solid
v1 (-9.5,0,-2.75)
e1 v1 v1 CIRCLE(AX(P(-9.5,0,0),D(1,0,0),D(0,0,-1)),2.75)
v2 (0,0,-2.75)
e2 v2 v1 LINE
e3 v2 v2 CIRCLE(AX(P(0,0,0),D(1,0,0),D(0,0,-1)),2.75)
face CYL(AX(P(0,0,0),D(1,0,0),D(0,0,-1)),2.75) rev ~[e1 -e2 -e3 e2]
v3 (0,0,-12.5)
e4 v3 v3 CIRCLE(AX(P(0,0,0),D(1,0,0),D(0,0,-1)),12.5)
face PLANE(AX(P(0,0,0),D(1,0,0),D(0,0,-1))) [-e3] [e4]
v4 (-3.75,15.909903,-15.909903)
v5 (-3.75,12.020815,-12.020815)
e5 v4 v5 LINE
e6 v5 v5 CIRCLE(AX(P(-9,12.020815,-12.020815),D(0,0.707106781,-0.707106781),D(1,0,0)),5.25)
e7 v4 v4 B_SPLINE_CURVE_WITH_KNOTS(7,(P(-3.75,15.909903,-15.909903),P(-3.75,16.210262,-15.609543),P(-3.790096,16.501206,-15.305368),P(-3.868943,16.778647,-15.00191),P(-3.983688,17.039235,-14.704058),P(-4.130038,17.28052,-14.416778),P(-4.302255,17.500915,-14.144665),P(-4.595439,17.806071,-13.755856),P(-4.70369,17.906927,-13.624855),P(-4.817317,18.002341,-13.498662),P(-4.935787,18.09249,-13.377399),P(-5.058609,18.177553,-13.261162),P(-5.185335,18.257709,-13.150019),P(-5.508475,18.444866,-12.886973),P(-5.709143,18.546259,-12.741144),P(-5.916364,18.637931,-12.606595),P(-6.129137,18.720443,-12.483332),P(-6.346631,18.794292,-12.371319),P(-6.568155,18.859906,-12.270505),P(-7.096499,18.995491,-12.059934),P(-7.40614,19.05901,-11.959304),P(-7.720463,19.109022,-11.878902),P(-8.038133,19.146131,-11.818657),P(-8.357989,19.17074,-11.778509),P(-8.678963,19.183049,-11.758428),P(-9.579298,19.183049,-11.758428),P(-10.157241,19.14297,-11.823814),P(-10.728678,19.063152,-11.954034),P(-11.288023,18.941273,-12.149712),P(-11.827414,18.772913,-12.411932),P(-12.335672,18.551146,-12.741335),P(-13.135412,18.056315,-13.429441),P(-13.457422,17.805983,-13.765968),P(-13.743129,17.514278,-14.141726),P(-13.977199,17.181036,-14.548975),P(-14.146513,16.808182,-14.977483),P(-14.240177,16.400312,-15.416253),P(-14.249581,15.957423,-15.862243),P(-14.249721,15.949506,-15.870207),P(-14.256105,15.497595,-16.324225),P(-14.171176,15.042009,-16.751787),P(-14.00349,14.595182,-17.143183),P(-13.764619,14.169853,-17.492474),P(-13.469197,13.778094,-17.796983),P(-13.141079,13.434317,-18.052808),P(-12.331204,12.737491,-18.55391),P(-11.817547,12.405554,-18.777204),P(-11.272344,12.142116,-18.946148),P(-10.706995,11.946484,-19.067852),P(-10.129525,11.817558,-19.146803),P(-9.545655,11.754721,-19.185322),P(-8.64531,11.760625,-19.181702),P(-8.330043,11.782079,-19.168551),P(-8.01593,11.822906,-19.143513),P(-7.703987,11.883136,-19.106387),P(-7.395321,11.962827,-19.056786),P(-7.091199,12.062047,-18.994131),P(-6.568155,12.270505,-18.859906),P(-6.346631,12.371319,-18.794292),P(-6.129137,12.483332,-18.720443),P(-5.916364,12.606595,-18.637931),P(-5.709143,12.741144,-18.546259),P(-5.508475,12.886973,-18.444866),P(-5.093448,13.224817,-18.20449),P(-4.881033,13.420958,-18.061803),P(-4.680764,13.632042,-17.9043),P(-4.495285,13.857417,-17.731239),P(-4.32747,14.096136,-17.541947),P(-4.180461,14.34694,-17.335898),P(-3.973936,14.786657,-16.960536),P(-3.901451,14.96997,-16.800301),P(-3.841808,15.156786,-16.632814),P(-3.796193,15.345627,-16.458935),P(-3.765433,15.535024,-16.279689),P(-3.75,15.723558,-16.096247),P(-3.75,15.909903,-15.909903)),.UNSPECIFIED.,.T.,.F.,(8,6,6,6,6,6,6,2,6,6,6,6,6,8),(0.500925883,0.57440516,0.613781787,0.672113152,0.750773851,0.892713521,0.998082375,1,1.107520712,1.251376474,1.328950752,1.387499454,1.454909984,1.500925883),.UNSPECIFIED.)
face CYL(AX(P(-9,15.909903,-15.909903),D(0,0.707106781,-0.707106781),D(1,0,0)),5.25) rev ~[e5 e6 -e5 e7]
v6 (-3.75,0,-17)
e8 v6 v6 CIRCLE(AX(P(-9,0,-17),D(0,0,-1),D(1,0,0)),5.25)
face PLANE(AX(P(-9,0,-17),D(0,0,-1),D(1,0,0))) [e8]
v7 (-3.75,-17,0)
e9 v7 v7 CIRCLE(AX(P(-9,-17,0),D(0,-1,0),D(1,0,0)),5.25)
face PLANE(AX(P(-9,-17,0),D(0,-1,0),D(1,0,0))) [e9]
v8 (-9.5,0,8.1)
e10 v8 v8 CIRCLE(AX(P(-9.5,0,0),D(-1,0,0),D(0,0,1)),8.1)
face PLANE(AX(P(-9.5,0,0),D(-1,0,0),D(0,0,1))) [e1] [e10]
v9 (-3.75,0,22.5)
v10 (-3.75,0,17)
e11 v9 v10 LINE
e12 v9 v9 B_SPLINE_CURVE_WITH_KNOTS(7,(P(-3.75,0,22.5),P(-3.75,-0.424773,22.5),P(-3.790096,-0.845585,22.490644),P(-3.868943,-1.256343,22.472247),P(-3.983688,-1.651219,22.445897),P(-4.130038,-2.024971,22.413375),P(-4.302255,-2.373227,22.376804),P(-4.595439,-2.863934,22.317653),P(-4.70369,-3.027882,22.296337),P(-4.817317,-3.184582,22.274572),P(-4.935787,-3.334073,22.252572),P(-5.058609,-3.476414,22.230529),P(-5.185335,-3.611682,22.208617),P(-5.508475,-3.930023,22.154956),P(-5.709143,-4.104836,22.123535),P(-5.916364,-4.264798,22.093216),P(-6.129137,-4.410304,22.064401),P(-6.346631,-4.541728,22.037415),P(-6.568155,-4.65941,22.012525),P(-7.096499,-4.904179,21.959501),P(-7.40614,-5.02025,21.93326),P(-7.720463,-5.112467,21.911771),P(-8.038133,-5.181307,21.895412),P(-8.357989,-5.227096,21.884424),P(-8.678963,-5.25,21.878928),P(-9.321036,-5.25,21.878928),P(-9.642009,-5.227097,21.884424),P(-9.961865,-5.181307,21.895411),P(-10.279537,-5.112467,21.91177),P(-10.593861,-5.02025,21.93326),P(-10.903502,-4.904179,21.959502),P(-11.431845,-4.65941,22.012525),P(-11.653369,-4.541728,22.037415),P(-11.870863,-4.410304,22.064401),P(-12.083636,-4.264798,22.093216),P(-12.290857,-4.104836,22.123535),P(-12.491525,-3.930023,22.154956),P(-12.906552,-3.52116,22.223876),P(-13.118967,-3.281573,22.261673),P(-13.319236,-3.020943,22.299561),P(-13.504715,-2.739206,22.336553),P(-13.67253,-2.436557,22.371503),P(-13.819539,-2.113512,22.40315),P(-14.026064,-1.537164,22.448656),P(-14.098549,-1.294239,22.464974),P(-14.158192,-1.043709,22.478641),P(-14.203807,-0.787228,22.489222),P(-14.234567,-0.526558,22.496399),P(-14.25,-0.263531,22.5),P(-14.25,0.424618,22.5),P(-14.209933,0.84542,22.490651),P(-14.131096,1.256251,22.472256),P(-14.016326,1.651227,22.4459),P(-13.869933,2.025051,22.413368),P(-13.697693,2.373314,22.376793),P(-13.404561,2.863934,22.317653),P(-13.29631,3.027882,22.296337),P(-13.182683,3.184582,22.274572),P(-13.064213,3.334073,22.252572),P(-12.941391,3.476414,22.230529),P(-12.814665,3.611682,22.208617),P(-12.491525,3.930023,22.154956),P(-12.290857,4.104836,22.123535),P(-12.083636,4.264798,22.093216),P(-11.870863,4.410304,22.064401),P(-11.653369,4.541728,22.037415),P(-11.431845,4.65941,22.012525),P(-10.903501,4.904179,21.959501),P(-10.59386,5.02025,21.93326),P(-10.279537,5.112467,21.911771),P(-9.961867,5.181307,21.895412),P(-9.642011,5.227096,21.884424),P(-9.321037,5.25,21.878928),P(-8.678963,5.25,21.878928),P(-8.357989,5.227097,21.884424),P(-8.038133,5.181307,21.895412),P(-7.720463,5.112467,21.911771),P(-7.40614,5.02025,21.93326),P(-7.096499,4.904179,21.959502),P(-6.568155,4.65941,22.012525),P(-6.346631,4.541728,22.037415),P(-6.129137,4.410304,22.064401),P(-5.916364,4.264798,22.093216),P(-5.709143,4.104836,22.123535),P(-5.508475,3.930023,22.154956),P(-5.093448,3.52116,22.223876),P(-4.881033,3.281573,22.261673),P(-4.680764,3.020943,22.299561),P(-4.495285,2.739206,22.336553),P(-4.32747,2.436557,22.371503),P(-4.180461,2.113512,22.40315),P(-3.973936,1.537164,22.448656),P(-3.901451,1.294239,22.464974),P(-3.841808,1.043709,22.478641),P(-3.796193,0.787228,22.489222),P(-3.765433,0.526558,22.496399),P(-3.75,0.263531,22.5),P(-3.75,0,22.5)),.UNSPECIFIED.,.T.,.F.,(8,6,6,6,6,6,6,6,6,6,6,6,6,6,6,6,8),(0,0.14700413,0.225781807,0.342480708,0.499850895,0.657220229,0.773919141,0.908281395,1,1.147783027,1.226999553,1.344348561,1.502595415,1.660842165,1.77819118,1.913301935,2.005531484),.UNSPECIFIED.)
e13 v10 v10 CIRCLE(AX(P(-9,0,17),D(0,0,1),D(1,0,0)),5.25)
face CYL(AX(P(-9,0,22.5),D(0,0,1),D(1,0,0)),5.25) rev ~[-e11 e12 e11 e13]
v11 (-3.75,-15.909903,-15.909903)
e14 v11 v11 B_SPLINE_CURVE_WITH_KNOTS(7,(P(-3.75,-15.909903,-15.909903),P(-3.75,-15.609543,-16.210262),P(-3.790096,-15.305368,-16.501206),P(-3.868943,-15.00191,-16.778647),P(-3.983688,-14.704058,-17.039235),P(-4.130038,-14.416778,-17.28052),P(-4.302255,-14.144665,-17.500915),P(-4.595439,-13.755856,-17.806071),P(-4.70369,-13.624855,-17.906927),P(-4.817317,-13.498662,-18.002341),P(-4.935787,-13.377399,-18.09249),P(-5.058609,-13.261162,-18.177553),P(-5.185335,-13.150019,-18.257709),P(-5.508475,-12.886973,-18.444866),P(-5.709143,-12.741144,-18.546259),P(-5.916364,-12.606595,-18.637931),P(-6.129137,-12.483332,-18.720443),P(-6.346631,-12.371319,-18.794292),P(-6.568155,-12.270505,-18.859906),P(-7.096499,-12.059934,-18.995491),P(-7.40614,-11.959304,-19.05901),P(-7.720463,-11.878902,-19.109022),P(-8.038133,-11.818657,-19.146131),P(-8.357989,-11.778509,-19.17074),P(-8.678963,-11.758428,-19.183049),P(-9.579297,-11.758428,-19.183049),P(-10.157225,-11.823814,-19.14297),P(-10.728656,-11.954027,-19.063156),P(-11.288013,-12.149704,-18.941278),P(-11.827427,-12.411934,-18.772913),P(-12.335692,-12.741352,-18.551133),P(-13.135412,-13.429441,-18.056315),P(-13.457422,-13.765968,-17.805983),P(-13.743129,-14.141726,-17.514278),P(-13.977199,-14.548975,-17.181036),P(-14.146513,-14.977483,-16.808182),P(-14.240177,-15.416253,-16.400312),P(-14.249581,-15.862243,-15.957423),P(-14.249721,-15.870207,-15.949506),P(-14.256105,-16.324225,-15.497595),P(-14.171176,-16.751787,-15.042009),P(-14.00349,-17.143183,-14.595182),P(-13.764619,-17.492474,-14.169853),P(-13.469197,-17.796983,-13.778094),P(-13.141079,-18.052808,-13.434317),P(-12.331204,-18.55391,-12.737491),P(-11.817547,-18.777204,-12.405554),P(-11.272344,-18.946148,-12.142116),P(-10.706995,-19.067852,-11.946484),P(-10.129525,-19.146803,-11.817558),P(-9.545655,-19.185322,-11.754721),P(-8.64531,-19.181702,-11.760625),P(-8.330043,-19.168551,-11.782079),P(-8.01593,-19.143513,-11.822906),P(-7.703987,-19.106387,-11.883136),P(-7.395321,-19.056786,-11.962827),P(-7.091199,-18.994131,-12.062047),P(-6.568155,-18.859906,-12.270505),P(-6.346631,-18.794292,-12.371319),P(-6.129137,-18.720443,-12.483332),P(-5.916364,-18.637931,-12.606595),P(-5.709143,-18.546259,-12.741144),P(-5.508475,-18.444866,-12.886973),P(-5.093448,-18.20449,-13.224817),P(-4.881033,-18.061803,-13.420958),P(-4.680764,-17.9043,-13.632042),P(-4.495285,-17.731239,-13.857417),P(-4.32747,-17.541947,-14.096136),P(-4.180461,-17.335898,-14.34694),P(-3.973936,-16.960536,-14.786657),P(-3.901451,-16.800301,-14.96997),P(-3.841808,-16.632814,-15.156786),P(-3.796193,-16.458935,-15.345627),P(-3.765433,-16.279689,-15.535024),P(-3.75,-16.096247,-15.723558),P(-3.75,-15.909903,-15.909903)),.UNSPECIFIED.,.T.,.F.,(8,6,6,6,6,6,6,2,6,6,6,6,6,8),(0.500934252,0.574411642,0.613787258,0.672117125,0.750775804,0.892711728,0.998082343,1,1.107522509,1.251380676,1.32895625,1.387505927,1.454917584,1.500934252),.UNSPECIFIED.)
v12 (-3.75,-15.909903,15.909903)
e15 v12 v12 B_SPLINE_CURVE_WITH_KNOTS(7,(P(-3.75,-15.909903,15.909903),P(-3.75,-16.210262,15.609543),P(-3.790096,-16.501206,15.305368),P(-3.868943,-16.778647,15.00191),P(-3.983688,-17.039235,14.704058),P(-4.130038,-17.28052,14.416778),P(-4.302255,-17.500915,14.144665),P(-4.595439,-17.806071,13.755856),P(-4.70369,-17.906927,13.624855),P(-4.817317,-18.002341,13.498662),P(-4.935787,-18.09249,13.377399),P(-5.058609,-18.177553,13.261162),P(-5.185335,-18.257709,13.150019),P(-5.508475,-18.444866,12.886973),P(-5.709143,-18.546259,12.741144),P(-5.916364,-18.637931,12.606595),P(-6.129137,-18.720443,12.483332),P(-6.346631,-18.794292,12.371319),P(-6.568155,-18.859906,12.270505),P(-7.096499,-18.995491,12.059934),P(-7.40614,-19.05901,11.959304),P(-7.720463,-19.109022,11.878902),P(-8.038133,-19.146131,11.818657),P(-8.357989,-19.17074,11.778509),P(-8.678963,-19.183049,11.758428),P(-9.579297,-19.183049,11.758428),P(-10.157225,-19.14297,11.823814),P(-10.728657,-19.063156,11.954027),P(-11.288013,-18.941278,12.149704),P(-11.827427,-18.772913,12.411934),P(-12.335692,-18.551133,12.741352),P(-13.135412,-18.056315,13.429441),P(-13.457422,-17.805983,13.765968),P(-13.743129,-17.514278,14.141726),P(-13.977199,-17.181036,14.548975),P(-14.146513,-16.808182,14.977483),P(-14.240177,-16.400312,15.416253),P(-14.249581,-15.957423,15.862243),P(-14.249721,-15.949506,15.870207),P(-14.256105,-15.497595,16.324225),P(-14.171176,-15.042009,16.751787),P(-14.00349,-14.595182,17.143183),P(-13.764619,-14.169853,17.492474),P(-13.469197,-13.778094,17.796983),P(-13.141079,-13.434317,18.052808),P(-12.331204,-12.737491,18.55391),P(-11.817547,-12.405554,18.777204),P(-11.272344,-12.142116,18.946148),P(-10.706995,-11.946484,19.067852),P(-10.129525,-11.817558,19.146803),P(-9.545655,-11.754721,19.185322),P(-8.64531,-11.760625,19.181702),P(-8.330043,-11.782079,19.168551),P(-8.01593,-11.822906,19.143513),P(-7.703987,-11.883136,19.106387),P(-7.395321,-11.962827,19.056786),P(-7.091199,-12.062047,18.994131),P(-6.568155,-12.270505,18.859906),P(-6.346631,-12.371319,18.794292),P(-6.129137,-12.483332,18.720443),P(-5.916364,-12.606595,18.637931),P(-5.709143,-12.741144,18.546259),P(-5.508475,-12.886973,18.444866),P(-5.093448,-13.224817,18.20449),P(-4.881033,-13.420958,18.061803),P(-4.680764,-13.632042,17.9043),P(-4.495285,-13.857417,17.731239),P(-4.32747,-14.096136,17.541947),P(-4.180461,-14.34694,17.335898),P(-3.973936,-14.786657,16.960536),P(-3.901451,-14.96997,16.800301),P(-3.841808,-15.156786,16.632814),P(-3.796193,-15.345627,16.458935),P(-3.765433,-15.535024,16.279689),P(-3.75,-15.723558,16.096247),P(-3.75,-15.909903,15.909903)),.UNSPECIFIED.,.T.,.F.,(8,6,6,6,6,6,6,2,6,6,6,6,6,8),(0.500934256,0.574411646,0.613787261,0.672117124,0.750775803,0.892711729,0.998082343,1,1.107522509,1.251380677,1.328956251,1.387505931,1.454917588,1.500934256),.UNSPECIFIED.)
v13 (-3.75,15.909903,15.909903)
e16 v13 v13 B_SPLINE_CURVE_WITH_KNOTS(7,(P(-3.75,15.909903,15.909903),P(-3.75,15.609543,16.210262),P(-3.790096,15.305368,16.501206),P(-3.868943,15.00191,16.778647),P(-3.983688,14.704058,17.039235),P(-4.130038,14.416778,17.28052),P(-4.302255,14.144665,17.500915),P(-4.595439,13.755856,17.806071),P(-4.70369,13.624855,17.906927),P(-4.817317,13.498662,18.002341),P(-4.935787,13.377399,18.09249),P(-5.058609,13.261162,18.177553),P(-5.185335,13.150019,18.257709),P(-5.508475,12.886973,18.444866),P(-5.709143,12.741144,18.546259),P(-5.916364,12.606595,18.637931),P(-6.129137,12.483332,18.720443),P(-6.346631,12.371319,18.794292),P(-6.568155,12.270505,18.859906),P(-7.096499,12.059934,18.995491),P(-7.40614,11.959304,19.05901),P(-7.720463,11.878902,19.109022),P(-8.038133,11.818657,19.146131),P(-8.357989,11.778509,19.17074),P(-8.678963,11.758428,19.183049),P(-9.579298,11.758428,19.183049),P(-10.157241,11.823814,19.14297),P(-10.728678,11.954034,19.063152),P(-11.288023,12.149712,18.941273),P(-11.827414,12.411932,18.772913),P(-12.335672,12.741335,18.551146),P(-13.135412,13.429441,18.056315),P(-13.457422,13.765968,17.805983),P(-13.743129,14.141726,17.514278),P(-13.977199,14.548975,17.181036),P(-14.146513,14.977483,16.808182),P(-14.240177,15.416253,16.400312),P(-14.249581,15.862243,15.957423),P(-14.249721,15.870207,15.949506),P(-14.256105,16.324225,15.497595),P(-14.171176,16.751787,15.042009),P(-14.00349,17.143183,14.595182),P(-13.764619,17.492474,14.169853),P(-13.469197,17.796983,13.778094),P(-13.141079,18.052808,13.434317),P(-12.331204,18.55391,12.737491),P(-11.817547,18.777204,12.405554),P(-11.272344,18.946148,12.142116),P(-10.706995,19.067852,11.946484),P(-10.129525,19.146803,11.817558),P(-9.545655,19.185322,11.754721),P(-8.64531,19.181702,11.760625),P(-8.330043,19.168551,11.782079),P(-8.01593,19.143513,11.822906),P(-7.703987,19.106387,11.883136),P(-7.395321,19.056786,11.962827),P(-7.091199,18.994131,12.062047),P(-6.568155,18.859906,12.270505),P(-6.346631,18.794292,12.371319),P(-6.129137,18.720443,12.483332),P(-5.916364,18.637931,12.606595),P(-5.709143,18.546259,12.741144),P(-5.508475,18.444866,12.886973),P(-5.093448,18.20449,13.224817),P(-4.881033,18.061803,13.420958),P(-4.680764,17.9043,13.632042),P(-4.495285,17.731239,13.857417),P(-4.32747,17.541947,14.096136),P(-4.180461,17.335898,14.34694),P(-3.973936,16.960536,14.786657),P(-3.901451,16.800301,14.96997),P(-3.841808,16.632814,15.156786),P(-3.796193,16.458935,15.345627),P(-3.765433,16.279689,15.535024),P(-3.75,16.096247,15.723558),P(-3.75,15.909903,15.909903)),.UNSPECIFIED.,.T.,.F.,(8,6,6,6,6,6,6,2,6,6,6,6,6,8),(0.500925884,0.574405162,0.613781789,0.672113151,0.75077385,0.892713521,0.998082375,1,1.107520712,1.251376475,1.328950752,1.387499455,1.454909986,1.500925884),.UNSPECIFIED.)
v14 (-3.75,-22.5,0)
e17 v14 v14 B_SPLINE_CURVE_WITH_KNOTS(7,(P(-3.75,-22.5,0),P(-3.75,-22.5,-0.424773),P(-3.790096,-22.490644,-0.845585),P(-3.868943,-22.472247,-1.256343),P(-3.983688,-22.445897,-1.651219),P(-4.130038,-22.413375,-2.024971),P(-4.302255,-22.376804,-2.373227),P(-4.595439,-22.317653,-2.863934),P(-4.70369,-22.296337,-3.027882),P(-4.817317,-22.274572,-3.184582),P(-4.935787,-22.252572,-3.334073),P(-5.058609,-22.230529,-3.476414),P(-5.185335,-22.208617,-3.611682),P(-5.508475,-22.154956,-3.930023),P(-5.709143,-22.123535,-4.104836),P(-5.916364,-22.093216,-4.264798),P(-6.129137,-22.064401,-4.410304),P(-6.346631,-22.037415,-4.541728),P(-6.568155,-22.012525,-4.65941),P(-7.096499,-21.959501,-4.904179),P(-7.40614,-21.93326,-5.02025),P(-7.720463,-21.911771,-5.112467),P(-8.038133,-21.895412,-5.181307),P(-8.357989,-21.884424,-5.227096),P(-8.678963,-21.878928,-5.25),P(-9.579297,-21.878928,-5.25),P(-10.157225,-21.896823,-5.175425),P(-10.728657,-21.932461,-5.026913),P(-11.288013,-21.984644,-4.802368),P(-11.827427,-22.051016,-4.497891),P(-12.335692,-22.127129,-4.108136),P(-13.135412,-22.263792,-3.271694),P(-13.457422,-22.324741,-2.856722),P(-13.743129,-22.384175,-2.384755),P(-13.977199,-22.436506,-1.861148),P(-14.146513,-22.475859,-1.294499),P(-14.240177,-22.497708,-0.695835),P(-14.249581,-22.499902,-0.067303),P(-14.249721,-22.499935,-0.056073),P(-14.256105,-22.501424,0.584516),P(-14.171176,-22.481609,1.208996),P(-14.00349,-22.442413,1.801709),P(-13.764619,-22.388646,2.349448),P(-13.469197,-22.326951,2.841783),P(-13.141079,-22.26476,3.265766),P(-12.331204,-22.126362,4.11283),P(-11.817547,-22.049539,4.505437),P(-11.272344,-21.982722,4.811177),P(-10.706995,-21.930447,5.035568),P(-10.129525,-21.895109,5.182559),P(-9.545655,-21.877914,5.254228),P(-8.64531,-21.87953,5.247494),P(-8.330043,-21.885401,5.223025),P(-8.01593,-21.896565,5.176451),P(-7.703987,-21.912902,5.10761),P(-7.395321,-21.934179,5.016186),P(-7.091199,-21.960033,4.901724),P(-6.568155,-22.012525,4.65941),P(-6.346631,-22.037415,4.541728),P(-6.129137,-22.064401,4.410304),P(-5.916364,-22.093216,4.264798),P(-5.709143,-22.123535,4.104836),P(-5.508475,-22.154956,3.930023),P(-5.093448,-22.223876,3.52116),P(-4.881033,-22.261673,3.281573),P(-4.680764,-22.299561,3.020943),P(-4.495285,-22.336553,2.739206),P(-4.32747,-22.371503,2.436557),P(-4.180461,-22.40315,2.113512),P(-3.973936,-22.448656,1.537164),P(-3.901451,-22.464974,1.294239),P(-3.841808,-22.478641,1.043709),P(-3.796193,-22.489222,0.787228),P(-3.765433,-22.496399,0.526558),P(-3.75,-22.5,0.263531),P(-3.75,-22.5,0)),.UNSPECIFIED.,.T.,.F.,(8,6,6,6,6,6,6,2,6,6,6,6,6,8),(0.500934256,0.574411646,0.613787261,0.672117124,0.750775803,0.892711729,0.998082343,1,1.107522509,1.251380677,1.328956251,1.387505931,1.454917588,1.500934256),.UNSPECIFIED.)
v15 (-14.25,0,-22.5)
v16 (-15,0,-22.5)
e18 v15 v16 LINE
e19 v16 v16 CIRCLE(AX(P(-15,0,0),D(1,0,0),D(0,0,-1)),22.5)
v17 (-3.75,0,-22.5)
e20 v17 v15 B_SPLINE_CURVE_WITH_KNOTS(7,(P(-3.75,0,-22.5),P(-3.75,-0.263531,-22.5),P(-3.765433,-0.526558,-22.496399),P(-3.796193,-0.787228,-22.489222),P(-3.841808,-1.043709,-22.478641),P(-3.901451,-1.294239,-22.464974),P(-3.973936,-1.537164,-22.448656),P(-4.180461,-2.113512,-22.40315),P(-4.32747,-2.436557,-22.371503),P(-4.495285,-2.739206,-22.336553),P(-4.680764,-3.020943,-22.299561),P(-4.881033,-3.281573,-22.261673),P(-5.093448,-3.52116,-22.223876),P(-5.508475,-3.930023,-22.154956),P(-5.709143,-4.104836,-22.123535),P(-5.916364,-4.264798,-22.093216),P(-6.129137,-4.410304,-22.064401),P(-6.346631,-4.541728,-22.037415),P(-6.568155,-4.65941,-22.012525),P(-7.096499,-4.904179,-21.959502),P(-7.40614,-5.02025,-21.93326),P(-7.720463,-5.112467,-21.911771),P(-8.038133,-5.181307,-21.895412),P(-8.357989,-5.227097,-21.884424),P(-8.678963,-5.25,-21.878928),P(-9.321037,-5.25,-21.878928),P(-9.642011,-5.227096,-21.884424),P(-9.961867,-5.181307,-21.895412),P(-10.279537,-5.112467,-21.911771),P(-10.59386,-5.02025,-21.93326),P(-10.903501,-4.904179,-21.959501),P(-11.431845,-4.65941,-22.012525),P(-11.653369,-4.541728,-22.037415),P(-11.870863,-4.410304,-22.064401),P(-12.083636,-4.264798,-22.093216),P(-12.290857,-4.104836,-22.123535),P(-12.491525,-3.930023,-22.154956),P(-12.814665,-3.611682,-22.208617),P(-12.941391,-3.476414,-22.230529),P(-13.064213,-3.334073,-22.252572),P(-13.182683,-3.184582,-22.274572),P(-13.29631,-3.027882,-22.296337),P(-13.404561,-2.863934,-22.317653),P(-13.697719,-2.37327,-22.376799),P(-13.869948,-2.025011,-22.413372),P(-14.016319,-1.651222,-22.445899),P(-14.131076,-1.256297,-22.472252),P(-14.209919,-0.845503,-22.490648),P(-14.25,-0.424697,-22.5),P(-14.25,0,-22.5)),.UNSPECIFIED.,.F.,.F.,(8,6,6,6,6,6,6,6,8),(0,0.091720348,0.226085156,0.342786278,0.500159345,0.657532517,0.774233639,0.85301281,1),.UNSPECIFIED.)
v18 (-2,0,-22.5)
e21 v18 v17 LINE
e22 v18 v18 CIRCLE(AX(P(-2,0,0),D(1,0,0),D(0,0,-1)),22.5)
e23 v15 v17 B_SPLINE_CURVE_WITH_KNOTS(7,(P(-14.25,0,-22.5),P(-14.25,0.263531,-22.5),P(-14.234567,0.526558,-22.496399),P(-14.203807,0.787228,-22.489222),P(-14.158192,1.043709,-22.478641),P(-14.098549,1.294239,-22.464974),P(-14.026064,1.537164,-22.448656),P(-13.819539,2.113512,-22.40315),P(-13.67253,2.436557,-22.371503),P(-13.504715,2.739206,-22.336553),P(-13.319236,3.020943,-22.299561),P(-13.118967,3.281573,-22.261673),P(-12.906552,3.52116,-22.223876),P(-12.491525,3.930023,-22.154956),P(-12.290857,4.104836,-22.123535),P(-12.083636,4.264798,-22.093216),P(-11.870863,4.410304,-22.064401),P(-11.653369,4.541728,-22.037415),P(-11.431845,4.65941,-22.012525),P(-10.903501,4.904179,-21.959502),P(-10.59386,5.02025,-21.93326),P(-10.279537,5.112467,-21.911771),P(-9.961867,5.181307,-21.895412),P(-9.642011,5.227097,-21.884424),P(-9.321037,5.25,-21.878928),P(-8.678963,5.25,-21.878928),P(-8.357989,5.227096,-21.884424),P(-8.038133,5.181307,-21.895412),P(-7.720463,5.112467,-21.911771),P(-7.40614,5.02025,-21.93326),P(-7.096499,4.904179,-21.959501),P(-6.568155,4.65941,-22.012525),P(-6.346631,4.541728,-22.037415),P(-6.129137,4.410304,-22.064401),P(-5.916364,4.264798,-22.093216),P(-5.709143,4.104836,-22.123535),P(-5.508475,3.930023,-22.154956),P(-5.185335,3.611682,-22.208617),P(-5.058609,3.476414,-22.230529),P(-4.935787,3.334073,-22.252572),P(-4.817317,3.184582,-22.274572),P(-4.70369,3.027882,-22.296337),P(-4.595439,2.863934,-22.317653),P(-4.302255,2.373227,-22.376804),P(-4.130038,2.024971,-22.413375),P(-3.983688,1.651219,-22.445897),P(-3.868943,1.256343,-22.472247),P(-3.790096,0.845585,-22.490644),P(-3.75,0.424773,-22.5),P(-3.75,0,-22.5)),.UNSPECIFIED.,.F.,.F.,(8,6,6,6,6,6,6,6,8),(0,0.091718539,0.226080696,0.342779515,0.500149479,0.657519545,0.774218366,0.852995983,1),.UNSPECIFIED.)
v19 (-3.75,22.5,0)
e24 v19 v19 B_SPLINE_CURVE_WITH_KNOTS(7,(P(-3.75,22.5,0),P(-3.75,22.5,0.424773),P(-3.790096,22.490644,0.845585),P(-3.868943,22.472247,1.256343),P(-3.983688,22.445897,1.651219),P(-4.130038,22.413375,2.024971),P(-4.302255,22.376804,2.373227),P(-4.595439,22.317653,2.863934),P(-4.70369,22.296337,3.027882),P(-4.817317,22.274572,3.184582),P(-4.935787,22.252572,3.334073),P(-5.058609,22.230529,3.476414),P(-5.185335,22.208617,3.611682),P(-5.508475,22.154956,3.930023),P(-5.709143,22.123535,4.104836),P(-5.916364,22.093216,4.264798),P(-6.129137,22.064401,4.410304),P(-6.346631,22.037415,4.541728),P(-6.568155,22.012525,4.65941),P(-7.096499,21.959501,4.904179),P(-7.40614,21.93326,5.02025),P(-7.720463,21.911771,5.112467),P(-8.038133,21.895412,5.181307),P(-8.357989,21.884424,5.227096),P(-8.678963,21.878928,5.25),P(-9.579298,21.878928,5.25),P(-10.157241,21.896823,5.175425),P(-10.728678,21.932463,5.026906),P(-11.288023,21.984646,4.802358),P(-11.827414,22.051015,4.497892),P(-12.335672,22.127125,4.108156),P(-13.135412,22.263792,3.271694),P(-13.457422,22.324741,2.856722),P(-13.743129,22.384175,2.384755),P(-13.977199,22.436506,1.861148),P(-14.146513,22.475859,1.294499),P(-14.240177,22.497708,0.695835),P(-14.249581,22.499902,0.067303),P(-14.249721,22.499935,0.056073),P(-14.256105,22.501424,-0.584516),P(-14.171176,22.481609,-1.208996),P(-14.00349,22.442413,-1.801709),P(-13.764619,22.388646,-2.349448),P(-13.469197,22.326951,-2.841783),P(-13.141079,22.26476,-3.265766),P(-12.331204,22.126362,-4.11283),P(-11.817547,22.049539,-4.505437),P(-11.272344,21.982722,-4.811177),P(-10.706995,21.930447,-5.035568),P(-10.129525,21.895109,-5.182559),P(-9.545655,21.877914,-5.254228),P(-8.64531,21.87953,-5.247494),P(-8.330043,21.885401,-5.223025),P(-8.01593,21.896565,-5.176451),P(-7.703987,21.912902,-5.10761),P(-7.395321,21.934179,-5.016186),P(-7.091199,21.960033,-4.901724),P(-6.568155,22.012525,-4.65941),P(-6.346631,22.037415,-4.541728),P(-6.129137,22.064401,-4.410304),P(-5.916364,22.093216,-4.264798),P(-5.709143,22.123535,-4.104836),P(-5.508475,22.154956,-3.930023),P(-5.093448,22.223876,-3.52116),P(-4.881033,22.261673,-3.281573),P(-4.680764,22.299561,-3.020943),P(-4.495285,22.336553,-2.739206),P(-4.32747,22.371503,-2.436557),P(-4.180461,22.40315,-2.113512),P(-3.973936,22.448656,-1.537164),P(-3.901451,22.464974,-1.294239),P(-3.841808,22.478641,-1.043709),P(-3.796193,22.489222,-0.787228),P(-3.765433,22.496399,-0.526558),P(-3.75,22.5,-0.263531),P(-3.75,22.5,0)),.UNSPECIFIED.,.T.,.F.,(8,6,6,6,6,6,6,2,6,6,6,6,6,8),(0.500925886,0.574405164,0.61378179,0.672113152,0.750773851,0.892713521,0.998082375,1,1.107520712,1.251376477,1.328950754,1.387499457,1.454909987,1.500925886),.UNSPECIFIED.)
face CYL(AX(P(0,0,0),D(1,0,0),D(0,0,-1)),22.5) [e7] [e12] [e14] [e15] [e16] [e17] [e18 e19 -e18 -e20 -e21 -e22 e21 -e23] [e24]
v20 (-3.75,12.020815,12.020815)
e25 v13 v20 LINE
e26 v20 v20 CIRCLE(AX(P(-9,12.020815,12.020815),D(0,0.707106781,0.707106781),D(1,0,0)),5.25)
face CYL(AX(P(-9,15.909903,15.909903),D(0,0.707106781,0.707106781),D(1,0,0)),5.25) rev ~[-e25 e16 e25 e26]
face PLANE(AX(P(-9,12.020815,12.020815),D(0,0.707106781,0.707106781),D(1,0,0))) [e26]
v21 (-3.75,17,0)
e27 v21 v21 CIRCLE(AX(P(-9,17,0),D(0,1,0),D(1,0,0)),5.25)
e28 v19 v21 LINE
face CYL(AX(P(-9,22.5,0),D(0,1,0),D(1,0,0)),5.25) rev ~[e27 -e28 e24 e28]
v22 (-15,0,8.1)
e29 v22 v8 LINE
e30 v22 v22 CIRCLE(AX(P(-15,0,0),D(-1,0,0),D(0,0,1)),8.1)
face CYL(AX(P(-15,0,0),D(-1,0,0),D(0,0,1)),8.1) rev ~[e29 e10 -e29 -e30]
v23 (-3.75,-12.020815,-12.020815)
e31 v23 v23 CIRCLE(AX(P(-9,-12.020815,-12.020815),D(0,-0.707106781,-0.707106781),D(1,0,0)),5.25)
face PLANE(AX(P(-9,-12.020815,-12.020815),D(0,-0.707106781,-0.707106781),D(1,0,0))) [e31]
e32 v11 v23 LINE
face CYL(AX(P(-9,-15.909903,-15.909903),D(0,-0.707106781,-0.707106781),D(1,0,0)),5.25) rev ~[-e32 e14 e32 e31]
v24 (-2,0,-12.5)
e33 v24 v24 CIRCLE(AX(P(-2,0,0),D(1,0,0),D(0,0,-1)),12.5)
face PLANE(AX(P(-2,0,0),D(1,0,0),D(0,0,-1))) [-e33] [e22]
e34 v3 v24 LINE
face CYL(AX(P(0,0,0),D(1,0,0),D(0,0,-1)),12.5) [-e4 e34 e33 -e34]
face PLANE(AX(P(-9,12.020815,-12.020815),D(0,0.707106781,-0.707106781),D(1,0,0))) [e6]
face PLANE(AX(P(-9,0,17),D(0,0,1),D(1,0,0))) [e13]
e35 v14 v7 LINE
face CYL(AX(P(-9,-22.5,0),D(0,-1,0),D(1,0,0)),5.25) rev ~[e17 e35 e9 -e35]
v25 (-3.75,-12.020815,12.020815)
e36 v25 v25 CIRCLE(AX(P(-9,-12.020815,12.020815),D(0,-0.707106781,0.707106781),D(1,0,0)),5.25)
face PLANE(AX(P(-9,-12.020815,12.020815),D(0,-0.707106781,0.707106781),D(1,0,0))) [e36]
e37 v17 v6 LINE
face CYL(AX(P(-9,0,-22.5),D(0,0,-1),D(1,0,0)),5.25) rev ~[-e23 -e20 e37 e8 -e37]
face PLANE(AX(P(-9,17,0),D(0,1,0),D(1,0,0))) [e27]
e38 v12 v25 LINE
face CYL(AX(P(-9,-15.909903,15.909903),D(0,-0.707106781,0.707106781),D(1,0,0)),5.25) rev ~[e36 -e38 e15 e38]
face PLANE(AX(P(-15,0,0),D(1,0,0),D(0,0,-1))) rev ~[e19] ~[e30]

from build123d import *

# Parameters (mm, degrees)
SKETCH1_R               = 22.5
BOSS_EXTRUDE1_DEPTH     = 15
SKETCH2_R               = 2.75
CUT_EXTRUDE1_DEPTH      = 36.178118199
SKETCH5_R               = 8.1
CUT_EXTRUDE2_DEPTH      = 5.5
SKETCH6_R               = 5.25
CUT_EXTRUDE3_DEPTH      = 5.5
CIRPATTERN1_COUNT       = 8
SKETCH29_R              = 22.5
SKETCH29_R_2            = 12.5
CUT_EXTRUDE_THIN1_DEPTH = 2


with BuildPart() as part:
    # Sketch1 → Boss-Extrude1 (new body)
    with BuildSketch(Plane(origin=(0, 0, 0), x_dir=(0, 0, -1), z_dir=(1, 0, 0))):
        Circle(SKETCH1_R)
    extrude(amount=-BOSS_EXTRUDE1_DEPTH)

    # Sketch2 → Cut-Extrude1 (cut, through all)
    with BuildSketch(Plane(origin=(0, 0, 0), x_dir=(0, 0, -1), z_dir=(1, 0, 0))):
        Circle(SKETCH2_R)
    extrude(amount=-CUT_EXTRUDE1_DEPTH, mode=Mode.SUBTRACT)

    # Sketch5 → Cut-Extrude2 (cut)
    with BuildSketch(Plane.ZY.offset(15)):
        Circle(SKETCH5_R)
    extrude(amount=-CUT_EXTRUDE2_DEPTH, mode=Mode.SUBTRACT)

    # Sketch6 → Cut-Extrude3 (cut)
    with BuildSketch(Plane.XY.offset(22.5)):
        with Locations((-9, 0)):
            Circle(SKETCH6_R)
    cut_extrude3 = extrude(amount=-CUT_EXTRUDE3_DEPTH, mode=Mode.SUBTRACT)

    # CirPattern1: Cut-Extrude3 ×8 about axis
    cirpattern1_axis = Axis((0, 0, 0), (1, 0, 0))
    for i in range(1, CIRPATTERN1_COUNT):
        add(cut_extrude3.rotate(cirpattern1_axis, i * 360 / CIRPATTERN1_COUNT), mode=Mode.SUBTRACT)

    # Sketch29 → Cut-Extrude-Thin1 (cut)
    with BuildSketch(Plane(origin=(0, 0, 0), x_dir=(0, 0, -1), z_dir=(1, 0, 0))):
        Circle(SKETCH29_R)
        Circle(SKETCH29_R_2, mode=Mode.SUBTRACT)
    extrude(amount=-CUT_EXTRUDE_THIN1_DEPTH, mode=Mode.SUBTRACT)


solid = part.part
